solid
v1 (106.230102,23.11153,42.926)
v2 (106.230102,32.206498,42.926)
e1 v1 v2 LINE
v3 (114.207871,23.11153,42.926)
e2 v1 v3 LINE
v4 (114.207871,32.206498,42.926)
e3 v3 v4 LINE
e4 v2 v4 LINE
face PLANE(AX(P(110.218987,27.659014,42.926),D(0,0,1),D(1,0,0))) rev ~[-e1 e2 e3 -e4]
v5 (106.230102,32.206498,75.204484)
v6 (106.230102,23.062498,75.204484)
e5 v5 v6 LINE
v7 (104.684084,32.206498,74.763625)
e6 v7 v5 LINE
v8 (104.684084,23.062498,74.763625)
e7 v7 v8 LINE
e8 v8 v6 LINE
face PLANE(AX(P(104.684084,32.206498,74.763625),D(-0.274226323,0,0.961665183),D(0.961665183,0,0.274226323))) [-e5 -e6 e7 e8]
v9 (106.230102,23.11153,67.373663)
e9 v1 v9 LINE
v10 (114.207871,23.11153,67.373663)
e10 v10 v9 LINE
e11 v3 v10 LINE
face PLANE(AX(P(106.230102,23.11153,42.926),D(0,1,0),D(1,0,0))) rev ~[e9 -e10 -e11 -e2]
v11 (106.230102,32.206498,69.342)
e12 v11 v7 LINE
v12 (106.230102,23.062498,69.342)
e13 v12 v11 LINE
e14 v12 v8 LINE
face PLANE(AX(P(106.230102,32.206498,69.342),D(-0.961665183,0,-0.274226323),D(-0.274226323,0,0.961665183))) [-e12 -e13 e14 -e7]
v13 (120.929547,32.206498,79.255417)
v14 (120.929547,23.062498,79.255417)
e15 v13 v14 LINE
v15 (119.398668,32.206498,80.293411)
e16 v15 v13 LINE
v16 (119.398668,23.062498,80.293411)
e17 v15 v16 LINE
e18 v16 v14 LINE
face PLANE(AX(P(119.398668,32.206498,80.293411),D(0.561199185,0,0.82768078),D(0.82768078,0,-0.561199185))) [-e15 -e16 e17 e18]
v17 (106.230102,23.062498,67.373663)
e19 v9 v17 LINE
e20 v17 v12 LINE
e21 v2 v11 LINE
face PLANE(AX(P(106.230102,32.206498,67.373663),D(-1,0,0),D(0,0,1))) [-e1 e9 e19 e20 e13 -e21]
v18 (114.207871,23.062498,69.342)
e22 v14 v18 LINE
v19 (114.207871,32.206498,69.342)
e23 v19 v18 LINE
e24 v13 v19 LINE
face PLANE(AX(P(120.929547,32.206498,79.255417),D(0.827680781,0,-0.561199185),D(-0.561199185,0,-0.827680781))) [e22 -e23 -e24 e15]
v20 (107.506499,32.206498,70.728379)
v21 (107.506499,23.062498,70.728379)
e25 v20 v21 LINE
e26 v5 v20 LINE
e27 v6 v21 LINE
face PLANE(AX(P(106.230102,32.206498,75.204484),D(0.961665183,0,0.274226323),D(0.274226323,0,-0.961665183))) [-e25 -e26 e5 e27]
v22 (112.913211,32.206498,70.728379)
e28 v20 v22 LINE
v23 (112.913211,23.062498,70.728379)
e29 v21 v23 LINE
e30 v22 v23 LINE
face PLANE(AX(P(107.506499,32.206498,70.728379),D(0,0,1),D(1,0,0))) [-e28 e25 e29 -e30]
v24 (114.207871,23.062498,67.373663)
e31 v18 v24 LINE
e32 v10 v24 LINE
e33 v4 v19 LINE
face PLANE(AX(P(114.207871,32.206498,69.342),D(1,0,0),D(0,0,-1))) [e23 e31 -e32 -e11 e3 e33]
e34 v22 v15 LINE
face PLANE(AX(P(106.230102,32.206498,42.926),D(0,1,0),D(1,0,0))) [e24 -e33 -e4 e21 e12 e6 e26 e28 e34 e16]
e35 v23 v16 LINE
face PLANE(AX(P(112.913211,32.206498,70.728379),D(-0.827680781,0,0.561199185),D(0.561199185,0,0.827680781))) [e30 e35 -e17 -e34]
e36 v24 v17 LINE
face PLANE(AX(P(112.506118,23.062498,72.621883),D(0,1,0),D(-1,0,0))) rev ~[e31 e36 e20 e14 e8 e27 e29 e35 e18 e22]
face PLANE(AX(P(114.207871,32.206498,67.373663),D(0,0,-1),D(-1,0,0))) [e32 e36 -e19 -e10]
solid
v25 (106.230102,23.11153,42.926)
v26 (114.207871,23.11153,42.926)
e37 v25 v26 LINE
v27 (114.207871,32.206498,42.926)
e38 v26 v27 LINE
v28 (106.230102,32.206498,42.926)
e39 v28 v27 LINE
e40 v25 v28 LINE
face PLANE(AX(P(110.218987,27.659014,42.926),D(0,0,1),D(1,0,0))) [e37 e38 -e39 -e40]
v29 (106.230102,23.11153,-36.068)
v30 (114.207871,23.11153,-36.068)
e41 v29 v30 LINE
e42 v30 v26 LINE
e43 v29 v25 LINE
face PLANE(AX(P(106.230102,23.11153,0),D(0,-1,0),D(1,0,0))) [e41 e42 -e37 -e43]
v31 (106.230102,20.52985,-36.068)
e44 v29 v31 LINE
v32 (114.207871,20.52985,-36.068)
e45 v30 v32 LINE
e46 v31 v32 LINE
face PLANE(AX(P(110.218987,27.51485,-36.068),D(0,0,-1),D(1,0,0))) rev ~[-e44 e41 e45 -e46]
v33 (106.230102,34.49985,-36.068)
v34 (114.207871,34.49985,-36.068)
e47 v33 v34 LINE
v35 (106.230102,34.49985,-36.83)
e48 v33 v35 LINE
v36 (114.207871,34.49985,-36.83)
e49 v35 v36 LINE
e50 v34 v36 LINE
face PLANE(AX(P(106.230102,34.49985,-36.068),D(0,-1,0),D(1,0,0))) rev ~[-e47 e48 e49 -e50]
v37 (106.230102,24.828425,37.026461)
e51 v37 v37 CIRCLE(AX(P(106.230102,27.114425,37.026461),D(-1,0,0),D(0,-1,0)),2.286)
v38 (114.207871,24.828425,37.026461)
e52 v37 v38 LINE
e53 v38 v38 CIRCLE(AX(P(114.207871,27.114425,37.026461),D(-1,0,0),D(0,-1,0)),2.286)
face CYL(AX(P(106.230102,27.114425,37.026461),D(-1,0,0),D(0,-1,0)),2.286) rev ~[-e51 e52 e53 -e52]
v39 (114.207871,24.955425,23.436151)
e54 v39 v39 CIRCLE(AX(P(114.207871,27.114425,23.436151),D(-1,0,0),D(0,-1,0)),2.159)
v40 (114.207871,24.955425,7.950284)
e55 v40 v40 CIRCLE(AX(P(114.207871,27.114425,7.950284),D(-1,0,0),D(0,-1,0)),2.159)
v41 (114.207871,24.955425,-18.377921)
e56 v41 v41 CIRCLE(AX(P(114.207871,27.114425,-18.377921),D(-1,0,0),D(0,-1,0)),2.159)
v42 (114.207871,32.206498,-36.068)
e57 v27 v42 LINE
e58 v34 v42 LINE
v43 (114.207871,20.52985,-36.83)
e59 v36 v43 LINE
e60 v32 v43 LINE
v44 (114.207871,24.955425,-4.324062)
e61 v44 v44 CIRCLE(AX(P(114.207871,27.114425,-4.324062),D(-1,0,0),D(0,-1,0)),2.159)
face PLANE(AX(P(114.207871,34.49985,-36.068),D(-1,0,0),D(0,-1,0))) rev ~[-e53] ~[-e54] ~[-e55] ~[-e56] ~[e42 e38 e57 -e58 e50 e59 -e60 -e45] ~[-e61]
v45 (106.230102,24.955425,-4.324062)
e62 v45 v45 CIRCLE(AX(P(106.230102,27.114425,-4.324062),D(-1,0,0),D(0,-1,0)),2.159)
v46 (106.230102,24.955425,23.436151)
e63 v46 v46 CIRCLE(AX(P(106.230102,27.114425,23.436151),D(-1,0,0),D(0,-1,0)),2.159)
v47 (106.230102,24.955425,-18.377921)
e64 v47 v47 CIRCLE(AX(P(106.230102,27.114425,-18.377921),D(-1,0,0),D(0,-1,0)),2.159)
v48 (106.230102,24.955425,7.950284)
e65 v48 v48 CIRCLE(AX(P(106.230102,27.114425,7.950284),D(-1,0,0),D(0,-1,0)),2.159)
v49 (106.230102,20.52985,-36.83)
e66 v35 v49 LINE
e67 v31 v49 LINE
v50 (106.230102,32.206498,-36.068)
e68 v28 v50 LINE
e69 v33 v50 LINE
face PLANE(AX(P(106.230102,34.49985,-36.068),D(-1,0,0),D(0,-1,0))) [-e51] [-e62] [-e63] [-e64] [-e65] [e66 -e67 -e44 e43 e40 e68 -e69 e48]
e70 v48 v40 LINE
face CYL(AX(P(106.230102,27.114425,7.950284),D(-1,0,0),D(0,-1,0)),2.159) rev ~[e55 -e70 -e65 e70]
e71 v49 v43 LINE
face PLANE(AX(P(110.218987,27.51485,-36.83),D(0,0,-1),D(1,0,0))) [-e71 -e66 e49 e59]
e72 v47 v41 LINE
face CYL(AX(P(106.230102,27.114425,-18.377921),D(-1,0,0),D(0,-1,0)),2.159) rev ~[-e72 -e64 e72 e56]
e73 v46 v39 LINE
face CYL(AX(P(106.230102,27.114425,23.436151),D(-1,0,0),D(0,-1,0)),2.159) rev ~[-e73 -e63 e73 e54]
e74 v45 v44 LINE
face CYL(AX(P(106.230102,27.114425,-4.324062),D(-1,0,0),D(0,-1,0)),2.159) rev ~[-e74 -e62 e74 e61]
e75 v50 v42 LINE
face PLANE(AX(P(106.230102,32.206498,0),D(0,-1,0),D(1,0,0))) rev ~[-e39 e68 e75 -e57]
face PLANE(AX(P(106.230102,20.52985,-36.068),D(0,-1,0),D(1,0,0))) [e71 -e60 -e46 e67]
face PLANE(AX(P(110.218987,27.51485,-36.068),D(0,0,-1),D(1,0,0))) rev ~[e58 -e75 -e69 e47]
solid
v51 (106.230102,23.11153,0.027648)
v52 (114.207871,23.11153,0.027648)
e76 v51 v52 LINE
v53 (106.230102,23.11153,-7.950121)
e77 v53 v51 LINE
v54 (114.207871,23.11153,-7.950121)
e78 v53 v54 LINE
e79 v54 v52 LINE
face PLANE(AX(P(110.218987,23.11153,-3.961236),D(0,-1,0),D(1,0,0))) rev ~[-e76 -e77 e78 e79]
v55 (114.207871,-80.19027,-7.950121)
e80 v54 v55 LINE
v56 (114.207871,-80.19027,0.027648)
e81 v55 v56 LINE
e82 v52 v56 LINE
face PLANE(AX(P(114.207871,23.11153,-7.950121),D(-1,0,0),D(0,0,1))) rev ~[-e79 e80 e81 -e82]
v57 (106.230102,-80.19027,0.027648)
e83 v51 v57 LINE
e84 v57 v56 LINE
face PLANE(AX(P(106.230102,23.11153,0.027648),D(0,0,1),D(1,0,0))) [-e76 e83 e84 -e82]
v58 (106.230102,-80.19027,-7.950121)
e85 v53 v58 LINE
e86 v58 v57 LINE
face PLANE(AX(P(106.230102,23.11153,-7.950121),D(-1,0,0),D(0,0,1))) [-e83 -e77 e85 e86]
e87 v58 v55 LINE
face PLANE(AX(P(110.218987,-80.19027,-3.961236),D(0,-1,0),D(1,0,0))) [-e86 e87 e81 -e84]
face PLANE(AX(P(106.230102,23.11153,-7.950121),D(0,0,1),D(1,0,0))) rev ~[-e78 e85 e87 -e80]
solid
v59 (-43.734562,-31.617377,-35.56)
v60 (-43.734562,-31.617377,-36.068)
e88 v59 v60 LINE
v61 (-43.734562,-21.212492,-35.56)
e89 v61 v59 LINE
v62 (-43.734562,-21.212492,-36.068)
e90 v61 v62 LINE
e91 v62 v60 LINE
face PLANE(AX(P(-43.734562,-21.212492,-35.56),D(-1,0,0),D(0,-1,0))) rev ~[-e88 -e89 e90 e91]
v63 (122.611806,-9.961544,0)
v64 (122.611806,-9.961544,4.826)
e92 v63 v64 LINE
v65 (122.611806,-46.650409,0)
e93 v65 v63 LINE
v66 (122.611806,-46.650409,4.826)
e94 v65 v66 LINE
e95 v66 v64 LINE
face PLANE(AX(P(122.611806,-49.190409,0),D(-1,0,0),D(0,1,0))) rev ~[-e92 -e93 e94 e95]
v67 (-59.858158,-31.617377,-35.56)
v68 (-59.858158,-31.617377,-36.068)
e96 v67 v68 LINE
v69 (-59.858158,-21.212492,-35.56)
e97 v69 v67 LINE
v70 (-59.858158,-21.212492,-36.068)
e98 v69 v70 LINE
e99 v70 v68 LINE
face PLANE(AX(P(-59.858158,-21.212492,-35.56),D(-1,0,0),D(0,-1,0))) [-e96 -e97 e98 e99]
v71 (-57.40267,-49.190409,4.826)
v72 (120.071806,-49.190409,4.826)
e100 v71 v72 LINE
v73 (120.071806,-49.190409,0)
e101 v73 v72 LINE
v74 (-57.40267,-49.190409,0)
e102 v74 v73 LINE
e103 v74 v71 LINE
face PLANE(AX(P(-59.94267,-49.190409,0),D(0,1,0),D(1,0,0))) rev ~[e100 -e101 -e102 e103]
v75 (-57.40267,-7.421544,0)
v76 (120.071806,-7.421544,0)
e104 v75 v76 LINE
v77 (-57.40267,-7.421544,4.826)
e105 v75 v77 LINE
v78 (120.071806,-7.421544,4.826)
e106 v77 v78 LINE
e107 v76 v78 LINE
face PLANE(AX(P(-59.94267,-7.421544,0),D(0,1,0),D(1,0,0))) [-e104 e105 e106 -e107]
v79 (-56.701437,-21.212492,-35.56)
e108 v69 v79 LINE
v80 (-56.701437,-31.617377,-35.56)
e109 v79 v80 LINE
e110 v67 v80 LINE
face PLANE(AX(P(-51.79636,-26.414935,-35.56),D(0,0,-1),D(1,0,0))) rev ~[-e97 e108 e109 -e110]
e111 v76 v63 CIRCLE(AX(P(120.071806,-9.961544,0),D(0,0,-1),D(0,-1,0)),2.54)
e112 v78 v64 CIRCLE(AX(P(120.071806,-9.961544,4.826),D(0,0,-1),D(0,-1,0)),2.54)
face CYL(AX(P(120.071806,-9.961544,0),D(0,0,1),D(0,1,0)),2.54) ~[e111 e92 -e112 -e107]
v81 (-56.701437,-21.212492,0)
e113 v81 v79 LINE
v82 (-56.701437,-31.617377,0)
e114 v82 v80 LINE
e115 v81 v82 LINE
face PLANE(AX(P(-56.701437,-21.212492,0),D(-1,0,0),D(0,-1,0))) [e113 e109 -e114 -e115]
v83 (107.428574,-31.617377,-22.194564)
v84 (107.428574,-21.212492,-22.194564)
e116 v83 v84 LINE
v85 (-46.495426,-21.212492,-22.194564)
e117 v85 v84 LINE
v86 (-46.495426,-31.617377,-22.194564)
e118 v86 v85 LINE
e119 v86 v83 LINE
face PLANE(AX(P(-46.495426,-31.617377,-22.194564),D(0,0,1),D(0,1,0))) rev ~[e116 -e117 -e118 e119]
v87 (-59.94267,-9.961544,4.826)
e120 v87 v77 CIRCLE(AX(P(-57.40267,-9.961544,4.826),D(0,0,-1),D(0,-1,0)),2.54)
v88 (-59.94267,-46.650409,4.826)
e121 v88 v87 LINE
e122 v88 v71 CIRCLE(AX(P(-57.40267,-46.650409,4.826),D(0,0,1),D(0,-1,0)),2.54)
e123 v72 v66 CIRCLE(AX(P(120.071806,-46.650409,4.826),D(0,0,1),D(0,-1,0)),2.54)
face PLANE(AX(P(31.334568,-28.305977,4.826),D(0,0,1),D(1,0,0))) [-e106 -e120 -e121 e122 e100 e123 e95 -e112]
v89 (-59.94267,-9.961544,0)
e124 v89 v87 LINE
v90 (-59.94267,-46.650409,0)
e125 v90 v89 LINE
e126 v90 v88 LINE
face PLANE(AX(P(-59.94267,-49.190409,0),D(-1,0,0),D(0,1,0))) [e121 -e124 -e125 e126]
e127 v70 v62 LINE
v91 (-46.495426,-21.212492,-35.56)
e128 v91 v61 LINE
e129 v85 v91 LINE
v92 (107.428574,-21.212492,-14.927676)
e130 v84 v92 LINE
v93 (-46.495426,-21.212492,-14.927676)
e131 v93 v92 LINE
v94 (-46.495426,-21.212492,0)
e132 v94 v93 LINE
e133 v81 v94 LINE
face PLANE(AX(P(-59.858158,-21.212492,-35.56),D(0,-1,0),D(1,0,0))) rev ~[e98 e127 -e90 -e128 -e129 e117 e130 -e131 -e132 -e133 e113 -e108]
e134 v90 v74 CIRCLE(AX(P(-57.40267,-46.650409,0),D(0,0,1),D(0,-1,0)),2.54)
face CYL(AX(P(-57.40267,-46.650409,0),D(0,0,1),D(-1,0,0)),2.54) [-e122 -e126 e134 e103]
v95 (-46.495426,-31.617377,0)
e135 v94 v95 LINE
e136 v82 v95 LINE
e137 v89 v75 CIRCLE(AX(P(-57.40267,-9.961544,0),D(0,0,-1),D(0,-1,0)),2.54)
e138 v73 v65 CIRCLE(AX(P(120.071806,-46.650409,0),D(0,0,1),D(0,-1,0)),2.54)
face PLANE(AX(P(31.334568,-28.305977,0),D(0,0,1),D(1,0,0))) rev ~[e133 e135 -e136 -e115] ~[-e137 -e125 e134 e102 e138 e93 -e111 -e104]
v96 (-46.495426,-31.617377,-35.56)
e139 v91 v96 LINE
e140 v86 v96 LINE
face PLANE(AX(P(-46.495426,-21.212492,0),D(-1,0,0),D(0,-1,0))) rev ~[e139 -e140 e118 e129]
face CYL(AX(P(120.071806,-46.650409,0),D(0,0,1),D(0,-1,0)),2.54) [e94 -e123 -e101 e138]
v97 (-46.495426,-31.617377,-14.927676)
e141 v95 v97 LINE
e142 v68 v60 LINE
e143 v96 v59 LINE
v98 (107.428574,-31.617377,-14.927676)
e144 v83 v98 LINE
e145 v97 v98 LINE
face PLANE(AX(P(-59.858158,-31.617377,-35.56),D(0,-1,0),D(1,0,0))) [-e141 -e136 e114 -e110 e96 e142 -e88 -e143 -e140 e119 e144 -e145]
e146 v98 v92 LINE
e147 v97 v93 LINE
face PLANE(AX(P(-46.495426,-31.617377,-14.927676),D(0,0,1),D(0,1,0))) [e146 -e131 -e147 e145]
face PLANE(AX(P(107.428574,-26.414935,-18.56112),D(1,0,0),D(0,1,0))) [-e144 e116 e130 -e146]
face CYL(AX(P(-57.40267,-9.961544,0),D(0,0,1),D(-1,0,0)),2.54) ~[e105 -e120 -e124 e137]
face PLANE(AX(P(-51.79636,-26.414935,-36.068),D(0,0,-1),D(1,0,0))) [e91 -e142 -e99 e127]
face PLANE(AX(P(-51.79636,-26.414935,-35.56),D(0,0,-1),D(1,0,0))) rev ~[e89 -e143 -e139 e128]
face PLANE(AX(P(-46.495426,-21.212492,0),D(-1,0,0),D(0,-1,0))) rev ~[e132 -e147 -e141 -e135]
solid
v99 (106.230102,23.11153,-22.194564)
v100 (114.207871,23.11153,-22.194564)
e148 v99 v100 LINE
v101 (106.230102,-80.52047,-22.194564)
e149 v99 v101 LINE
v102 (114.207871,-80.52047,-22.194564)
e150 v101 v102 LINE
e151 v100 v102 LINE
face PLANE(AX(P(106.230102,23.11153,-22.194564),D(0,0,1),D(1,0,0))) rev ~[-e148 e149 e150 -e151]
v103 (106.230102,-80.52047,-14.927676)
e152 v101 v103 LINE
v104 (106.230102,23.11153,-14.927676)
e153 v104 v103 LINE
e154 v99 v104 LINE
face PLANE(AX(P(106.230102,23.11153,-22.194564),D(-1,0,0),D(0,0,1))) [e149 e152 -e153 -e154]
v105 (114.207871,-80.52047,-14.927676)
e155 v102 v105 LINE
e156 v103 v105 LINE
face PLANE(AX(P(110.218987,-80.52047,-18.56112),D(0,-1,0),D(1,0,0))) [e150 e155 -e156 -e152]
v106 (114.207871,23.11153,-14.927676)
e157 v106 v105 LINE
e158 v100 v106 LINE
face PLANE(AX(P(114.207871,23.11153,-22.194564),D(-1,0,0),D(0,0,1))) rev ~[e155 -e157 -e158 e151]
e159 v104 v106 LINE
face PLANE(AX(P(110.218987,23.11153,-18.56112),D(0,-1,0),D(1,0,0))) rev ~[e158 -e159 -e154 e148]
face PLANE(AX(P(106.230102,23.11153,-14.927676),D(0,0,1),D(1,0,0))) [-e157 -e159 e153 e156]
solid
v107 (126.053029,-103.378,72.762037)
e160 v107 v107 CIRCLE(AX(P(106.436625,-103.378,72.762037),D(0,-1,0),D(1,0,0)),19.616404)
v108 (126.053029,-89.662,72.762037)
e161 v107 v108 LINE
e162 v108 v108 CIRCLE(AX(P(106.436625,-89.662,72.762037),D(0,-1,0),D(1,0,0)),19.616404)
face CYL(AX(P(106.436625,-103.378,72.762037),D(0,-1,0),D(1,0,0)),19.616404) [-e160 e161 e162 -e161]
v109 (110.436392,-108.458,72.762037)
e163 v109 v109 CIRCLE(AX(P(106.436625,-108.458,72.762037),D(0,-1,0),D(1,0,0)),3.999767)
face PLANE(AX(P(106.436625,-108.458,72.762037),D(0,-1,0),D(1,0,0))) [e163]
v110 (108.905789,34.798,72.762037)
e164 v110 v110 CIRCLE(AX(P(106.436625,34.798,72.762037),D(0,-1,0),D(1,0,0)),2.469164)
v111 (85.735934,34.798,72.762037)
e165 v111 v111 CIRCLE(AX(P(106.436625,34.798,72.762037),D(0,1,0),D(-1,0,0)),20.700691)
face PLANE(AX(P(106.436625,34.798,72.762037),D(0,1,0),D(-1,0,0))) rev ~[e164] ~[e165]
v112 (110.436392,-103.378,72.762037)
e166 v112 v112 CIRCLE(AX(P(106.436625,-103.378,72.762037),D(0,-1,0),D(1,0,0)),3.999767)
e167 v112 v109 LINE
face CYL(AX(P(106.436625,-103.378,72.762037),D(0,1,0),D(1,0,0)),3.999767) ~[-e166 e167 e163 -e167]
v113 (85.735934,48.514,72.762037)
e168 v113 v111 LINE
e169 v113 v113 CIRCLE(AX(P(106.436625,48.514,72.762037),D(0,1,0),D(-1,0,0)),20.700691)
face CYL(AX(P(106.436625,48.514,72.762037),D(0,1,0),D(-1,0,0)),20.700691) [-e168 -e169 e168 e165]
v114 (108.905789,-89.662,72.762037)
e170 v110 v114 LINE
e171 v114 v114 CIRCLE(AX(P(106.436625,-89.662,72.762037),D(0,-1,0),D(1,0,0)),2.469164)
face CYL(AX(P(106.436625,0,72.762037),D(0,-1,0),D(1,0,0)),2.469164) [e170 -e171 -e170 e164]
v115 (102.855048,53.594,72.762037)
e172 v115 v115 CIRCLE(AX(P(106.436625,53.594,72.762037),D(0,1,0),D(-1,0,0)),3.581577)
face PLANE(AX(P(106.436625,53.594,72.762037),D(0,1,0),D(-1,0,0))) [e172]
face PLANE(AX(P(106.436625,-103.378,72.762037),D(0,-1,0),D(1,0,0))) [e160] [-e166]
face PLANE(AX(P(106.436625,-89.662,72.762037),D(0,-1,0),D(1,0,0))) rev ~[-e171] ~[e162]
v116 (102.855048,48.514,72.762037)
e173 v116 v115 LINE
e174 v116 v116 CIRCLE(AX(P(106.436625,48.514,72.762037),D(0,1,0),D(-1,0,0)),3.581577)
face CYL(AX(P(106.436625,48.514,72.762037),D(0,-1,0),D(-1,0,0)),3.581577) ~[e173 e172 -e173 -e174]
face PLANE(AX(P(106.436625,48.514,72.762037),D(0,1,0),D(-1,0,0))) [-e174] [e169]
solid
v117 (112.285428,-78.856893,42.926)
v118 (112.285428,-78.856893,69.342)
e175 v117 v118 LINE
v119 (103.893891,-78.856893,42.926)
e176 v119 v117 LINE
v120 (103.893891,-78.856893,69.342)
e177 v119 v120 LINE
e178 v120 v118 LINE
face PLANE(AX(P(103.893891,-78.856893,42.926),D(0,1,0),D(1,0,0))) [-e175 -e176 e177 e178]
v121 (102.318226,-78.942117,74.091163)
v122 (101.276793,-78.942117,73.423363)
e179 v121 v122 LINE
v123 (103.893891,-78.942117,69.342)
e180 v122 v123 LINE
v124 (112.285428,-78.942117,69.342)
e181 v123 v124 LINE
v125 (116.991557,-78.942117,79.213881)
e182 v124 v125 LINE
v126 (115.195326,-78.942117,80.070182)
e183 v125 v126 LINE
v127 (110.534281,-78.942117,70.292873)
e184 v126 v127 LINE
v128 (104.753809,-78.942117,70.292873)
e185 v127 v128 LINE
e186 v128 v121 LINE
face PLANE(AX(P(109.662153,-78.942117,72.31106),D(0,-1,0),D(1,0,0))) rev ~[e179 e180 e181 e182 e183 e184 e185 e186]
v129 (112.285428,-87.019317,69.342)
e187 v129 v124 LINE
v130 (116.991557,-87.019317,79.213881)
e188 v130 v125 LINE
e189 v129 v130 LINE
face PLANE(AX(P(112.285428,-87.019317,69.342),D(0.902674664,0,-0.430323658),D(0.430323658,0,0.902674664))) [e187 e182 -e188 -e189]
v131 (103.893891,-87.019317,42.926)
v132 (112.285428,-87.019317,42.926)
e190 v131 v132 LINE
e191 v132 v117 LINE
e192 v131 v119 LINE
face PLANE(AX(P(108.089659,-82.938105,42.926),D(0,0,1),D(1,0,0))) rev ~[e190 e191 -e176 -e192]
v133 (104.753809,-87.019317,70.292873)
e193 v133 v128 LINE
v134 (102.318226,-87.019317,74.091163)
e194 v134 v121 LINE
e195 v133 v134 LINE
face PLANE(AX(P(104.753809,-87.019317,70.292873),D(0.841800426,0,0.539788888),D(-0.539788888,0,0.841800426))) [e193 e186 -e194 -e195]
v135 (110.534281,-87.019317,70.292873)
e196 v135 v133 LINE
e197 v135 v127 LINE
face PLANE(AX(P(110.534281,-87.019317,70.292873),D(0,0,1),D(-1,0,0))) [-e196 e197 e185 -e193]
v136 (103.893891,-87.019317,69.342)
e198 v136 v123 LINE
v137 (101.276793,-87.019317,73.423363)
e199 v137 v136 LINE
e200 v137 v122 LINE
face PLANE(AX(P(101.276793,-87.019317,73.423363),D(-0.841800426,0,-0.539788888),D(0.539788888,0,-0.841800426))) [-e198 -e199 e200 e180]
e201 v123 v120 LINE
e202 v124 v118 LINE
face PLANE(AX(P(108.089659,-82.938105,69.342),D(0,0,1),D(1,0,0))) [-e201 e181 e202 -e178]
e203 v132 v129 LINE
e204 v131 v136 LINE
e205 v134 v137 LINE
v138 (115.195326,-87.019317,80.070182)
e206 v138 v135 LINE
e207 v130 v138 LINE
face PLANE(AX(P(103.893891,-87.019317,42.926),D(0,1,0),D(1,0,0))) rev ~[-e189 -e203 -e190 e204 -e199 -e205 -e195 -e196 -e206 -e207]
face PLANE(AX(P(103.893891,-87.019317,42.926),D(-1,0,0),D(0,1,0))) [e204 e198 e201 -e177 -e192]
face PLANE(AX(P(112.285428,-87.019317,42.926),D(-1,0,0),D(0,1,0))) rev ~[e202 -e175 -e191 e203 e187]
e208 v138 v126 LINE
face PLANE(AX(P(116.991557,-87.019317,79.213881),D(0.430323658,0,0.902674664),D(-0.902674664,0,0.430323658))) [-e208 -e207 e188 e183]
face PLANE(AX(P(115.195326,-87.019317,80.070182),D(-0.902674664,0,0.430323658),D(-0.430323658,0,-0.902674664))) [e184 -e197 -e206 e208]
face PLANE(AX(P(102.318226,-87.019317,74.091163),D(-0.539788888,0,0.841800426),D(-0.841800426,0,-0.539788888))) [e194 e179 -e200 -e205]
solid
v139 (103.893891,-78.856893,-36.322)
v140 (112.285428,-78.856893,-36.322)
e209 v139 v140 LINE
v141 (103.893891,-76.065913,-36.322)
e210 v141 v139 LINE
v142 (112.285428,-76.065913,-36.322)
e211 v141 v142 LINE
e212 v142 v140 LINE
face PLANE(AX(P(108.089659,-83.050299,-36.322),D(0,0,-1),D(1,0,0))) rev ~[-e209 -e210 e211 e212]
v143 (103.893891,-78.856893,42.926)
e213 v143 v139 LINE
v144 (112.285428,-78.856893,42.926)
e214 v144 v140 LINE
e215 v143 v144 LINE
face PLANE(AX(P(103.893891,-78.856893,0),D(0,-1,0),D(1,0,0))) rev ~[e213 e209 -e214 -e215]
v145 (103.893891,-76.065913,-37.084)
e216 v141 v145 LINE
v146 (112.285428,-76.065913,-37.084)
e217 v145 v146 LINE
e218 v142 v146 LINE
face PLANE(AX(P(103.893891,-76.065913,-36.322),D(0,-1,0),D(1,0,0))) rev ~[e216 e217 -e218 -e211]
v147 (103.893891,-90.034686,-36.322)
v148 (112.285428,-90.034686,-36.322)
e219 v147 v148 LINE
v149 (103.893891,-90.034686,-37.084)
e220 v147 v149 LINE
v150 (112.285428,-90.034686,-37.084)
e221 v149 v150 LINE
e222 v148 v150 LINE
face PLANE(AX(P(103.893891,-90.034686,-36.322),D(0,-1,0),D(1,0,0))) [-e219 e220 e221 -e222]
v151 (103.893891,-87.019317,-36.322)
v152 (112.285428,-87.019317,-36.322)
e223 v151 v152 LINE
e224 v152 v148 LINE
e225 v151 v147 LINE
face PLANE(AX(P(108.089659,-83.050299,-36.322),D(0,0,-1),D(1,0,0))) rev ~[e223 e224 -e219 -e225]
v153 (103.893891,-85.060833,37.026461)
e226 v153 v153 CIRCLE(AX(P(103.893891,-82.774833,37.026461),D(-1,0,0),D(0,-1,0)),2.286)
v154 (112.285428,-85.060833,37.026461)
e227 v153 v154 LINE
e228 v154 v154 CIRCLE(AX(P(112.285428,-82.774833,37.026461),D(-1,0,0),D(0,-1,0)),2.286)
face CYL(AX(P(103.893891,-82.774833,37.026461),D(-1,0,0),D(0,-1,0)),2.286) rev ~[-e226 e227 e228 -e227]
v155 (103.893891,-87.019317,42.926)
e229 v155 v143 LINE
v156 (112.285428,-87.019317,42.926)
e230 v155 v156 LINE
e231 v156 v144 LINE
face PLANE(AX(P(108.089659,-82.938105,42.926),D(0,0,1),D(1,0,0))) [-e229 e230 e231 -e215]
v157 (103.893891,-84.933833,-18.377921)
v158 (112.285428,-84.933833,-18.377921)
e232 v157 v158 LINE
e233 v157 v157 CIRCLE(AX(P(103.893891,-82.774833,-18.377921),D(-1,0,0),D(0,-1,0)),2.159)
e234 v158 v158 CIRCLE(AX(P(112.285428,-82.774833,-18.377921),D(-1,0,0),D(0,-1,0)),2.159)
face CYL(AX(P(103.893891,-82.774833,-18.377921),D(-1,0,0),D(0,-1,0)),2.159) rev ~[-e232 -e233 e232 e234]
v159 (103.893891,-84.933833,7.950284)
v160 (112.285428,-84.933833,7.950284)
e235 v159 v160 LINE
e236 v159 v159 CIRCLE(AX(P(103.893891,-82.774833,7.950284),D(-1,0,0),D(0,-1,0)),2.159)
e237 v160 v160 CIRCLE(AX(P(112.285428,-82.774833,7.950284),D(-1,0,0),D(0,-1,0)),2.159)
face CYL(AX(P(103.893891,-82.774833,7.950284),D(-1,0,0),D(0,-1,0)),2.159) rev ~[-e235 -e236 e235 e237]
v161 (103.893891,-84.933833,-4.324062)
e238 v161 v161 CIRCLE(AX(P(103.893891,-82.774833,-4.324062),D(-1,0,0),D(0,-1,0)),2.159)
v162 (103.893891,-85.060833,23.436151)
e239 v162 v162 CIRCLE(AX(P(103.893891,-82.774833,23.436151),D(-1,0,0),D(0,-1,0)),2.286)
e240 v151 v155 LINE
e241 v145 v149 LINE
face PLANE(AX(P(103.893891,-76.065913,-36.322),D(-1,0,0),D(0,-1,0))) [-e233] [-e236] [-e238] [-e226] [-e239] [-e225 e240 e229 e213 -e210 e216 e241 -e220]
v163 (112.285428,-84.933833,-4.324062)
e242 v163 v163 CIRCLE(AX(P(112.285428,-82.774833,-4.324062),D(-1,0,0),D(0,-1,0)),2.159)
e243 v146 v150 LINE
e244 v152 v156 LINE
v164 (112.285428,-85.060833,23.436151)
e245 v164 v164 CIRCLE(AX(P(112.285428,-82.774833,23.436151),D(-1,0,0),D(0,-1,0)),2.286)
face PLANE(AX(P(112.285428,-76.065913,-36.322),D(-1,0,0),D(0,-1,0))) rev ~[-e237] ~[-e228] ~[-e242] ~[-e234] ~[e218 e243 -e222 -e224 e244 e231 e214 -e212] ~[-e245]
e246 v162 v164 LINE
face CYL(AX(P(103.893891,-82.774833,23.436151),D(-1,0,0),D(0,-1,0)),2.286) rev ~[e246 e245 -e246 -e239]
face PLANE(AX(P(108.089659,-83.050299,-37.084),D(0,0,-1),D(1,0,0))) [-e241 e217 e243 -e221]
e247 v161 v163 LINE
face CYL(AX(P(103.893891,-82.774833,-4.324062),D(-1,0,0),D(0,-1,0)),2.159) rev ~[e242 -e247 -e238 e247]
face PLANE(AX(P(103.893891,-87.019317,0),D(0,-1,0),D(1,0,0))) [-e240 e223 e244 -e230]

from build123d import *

# Parameters (mm, degrees)
F0_W           = 182.5544759631
F0_H           = 41.7688651942
F1_DEPTH       = 4.826
F2_W           = 10.2060101926
F2_H           = 10.4048848152
F3_DEPTH       = 35.56
F4_W           = 16.1235965788
F4_H           = 10.4048848152
F5_DEPTH       = 0.508
F6_W           = 10.4048848152
F6_H           = 7.266888395
F7_DEPTH       = 153.924
F8_W           = 8.3915367723
F8_H           = 8.1624239683
F9_DEPTH       = 42.926
F9_DEPTH_BACK  = 36.322
F10_W          = 7.9777687788
F10_H          = 9.0949684381
F11_DEPTH      = 42.926
F11_DEPTH_BACK = 36.068
F12_W          = 7.9777687788
F12_H          = 7.266888395
F13_DEPTH      = 103.632
F14_W          = 8.3915367723
F14_H          = 8.1624239683
F15_DEPTH      = 26.416
F16_W          = 7.9777687788
F16_H          = 9.0949684381
F17_DEPTH      = 26.416
F18_W          = 7.9777687788
F18_H          = 7.9777687788
F19_DEPTH      = 103.3018
F21_DEPTH      = 8.0772
F23_DEPTH      = 9.144
F24_R          = 2.54
F25_R          = 2.4691637826
F26_DEPTH      = 103.378
F26_DEPTH_BACK = 48.514
F27_R          = 19.6164042051
F28_DEPTH      = 13.716
F29_R          = 20.7006908264
F30_DEPTH      = 13.716
F31_R          = 3.5815774467
F32_DEPTH      = 5.08
F33_R          = 3.9997666951
F34_DEPTH      = 5.08
F35_R          = 2.286
F36_DEPTH      = 25.4
F37_R          = 2.286
F38_DEPTH      = 25.4
F39_R          = 2.159
F40_DEPTH      = 25.4
F41_R          = 2.159
F42_DEPTH      = 25.4
F43_R          = 2.159
F44_DEPTH      = 25.4
F45_R          = 2.286
F46_DEPTH      = 25.4
F47_R          = 2.159
F48_DEPTH      = 25.4
F49_R          = 2.159
F50_DEPTH      = 25.4
F51_R          = 2.159
F52_DEPTH      = 25.4
F53_R          = 2.159
F54_DEPTH      = 25.4
F55_W          = 8.3915367723
F55_H          = 13.9687731862
F56_DEPTH      = 0.762
F57_W          = 7.9777687788
F57_H          = 13.97
F58_DEPTH      = 0.762


with BuildPart() as f1:
    # F0 (on Top) → F1 (new body)
    with BuildSketch(Plane.XY):
        with Locations((31.3345678151, -28.3059768844)):
            Rectangle(F0_W, F0_H)
    extrude(amount=F1_DEPTH)

    # F2 (on face) → F3 (join)
    with BuildSketch(Plane(origin=(0, 0, 0), x_dir=(1, 0, 0), z_dir=(0, 0, -1))):
        with Locations((-51.5984315425, 26.4149345458)):
            Rectangle(F2_W, F2_H)
    extrude(amount=F3_DEPTH)

    # F4 (on face) → F5 (join)
    with BuildSketch(Plane(origin=(0, 0, -35.56), x_dir=(1, 0, 0), z_dir=(0, 0, -1))):
        with Locations((-51.7963599414, 26.4149345458)):
            Rectangle(F4_W, F4_H)
    extrude(amount=F5_DEPTH)

    # F6 (on face) → F7 (join)
    with BuildSketch(Plane.YZ.offset(-46.4954264462)):
        with Locations((-26.4149345458, -18.561120145)):
            Rectangle(F6_W, F6_H)
    extrude(amount=F7_DEPTH)

    # F24
    f24_edges = [f1.edges().sort_by_distance(p)[0] for p in [
        (-59.94267, -49.190409, 2.413),
        (-59.94267, -7.421544, 2.413),
        (122.611806, -7.421544, 2.413),
        (122.611806, -49.190409, 2.413),
    ]]
    fillet(f24_edges, radius=F24_R)


with BuildPart() as f9:
    # F8 (on Top) → F9 (new body, two sides)
    with BuildSketch(Plane.XY) as f9_sk:
        with Locations((108.089659363, -82.9381048679)):
            Rectangle(F8_W, F8_H)
    extrude(amount=F9_DEPTH)
    extrude(f9_sk.sketch, amount=-F9_DEPTH_BACK)

    # F35 (on face) → F36 (cut)
    with BuildSketch(Plane(origin=(103.8938909769, 0, 0), x_dir=(0, -1, 0), z_dir=(-1, 0, 0))):
        with Locations((82.7748328447, 37.0264612138)):
            Circle(F35_R)
    extrude(amount=-F36_DEPTH, mode=Mode.SUBTRACT)

    # F37 (on face) → F38 (cut)
    with BuildSketch(Plane(origin=(103.8938909769, 0, 0), x_dir=(0, -1, 0), z_dir=(-1, 0, 0))):
        with Locations((82.7748328447, 23.4361514449)):
            Circle(F37_R)
    extrude(amount=-F38_DEPTH, mode=Mode.SUBTRACT)

    # F39 (on face) → F40 (cut)
    with BuildSketch(Plane(origin=(103.8938909769, 0, 0), x_dir=(0, -1, 0), z_dir=(-1, 0, 0))):
        with Locations((82.7748328447, 7.9502836706)):
            Circle(F39_R)
    extrude(amount=-F40_DEPTH, mode=Mode.SUBTRACT)

    # F41 (on face) → F42 (cut)
    with BuildSketch(Plane(origin=(103.8938909769, 0, 0), x_dir=(0, -1, 0), z_dir=(-1, 0, 0))):
        with Locations((82.7748328447, -4.324061789)):
            Circle(F41_R)
    extrude(amount=-F42_DEPTH, mode=Mode.SUBTRACT)

    # F43 (on face) → F44 (cut)
    with BuildSketch(Plane(origin=(103.8938909769, 0, 0), x_dir=(0, -1, 0), z_dir=(-1, 0, 0))):
        with Locations((82.7748328447, -18.3779209473)):
            Circle(F43_R)
    extrude(amount=-F44_DEPTH, mode=Mode.SUBTRACT)

    # F55 (on face) → F56 (join)
    with BuildSketch(Plane(origin=(0, 0, -36.322), x_dir=(1, 0, 0), z_dir=(0, 0, -1))):
        with Locations((108.089659363, 83.0502994359)):
            Rectangle(F55_W, F55_H)
    extrude(amount=F56_DEPTH)


with BuildPart() as f11:
    # F10 (on Top) → F11 (new body, two sides)
    with BuildSketch(Plane.XY) as f11_sk:
        with Locations((110.2189868689, 27.6590138674)):
            Rectangle(F10_W, F10_H)
    extrude(amount=F11_DEPTH)
    extrude(f11_sk.sketch, amount=-F11_DEPTH_BACK)

    # F45 (on face) → F46 (cut)
    with BuildSketch(Plane(origin=(106.2301024795, 0, 0), x_dir=(0, -1, 0), z_dir=(-1, 0, 0))):
        with Locations((-27.1144246185, 37.0264612138)):
            Circle(F45_R)
    extrude(amount=-F46_DEPTH, mode=Mode.SUBTRACT)

    # F47 (on face) → F48 (cut)
    with BuildSketch(Plane(origin=(106.2301024795, 0, 0), x_dir=(0, -1, 0), z_dir=(-1, 0, 0))):
        with Locations((-27.1144246185, 23.4361514449)):
            Circle(F47_R)
    extrude(amount=-F48_DEPTH, mode=Mode.SUBTRACT)

    # F49 (on face) → F50 (cut)
    with BuildSketch(Plane(origin=(106.2301024795, 0, 0), x_dir=(0, -1, 0), z_dir=(-1, 0, 0))):
        with Locations((-27.1144246185, 7.9502836706)):
            Circle(F49_R)
    extrude(amount=-F50_DEPTH, mode=Mode.SUBTRACT)

    # F51 (on face) → F52 (cut)
    with BuildSketch(Plane(origin=(106.2301024795, 0, 0), x_dir=(0, -1, 0), z_dir=(-1, 0, 0))):
        with Locations((-27.1144246185, -4.324061789)):
            Circle(F51_R)
    extrude(amount=-F52_DEPTH, mode=Mode.SUBTRACT)

    # F53 (on face) → F54 (cut)
    with BuildSketch(Plane(origin=(106.2301024795, 0, 0), x_dir=(0, -1, 0), z_dir=(-1, 0, 0))):
        with Locations((-27.1144246185, -18.3779209473)):
            Circle(F53_R)
    extrude(amount=-F54_DEPTH, mode=Mode.SUBTRACT)

    # F57 (on face) → F58 (join)
    with BuildSketch(Plane(origin=(0, 0, -36.068), x_dir=(1, 0, 0), z_dir=(0, 0, -1))):
        with Locations((110.2189868689, -27.5148501241)):
            Rectangle(F57_W, F57_H)
    extrude(amount=F58_DEPTH)


with BuildPart() as f13:
    # F12 (on face) → F13 (new body)
    with BuildSketch(Plane.XZ.offset(-23.1115296483)):
        with Locations((110.2189868689, -18.561120145)):
            Rectangle(F12_W, F12_H)
    extrude(amount=F13_DEPTH)


with BuildPart() as f15:
    # F14 (on face) → F15 (new body)
    with BuildSketch(Plane.XY.offset(42.926)):
        with Locations((108.089659363, -82.9381048679)):
            Rectangle(F14_W, F14_H)
    extrude(amount=F15_DEPTH)

    # F20 (on face) → F21 (join)
    with BuildSketch(Plane.XZ.offset(87.0193168521)):
        Polygon((103.8938909769, 69.342), (103.8938909769, 67.6358491182), (112.2854277492, 67.6358491182), (112.2854277492, 69.342), (116.9915574782, 79.2138812944), (115.1953257449, 80.0701820651), (110.5342805386, 70.2928729737), (104.753809084, 70.2928729737), (102.3182260611, 74.0911631414), (101.2767925858, 73.4233632684), align=None)
    extrude(amount=-F21_DEPTH)


with BuildPart() as f17:
    # F16 (on face) → F17 (new body)
    with BuildSketch(Plane.XY.offset(42.926)):
        with Locations((110.2189868689, 27.6590138674)):
            Rectangle(F16_W, F16_H)
    extrude(amount=F17_DEPTH)

    # F22 (on face) → F23 (join)
    with BuildSketch(Plane(origin=(0, 32.2064980865, 0), x_dir=(-1, 0, 0), z_dir=(0, 1, 0))):
        Polygon((-114.2078712583, 69.342), (-114.2078712583, 67.373663187), (-106.2301024795, 67.373663187), (-106.2301024795, 69.342), (-104.6840838743, 74.763624908), (-106.2301024795, 75.2044841647), (-107.5064986944, 70.7283792274), (-112.9132110877, 70.7283792274), (-119.3986680894, 80.2934111335), (-120.9295466542, 79.2554169893), align=None)
    extrude(amount=-F23_DEPTH)


with BuildPart() as f19:
    # F18 (on face) → F19 (new body)
    with BuildSketch(Plane.XZ.offset(-23.1115296483)):
        with Locations((110.2189868689, -3.9612364417)):
            Rectangle(F18_W, F18_H)
    extrude(amount=F19_DEPTH)


with BuildPart() as f26:
    # F25 (on Front) → F26 (new body, two sides)
    with BuildSketch(Plane.XZ) as f26_sk:
        with Locations((106.436625123, 72.7620367564)):
            Circle(F25_R)
    extrude(amount=F26_DEPTH)
    extrude(f26_sk.sketch, amount=-F26_DEPTH_BACK)

    # F27 (on face) → F28 (join)
    with BuildSketch(Plane.XZ.offset(103.378)):
        with Locations((106.436625123, 72.7620367564)):
            Circle(F27_R)
    extrude(amount=-F28_DEPTH)

    # F29 (on face) → F30 (join)
    with BuildSketch(Plane(origin=(0, 48.514, 0), x_dir=(-1, 0, 0), z_dir=(0, 1, 0))):
        with Locations((-106.436625123, 72.7620367564)):
            Circle(F29_R)
    extrude(amount=-F30_DEPTH)

    # F31 (on face) → F32 (join)
    with BuildSketch(Plane(origin=(0, 48.514, 0), x_dir=(-1, 0, 0), z_dir=(0, 1, 0))):
        with Locations((-106.436625123, 72.7620367564)):
            Circle(F31_R)
    extrude(amount=F32_DEPTH)

    # F33 (on face) → F34 (join)
    with BuildSketch(Plane.XZ.offset(103.378)):
        with Locations((106.436625123, 72.7620367564)):
            Circle(F33_R)
    extrude(amount=F34_DEPTH)


solid = Compound([f1.part, f9.part, f11.part, f13.part, f15.part, f17.part, f19.part, f26.part])
